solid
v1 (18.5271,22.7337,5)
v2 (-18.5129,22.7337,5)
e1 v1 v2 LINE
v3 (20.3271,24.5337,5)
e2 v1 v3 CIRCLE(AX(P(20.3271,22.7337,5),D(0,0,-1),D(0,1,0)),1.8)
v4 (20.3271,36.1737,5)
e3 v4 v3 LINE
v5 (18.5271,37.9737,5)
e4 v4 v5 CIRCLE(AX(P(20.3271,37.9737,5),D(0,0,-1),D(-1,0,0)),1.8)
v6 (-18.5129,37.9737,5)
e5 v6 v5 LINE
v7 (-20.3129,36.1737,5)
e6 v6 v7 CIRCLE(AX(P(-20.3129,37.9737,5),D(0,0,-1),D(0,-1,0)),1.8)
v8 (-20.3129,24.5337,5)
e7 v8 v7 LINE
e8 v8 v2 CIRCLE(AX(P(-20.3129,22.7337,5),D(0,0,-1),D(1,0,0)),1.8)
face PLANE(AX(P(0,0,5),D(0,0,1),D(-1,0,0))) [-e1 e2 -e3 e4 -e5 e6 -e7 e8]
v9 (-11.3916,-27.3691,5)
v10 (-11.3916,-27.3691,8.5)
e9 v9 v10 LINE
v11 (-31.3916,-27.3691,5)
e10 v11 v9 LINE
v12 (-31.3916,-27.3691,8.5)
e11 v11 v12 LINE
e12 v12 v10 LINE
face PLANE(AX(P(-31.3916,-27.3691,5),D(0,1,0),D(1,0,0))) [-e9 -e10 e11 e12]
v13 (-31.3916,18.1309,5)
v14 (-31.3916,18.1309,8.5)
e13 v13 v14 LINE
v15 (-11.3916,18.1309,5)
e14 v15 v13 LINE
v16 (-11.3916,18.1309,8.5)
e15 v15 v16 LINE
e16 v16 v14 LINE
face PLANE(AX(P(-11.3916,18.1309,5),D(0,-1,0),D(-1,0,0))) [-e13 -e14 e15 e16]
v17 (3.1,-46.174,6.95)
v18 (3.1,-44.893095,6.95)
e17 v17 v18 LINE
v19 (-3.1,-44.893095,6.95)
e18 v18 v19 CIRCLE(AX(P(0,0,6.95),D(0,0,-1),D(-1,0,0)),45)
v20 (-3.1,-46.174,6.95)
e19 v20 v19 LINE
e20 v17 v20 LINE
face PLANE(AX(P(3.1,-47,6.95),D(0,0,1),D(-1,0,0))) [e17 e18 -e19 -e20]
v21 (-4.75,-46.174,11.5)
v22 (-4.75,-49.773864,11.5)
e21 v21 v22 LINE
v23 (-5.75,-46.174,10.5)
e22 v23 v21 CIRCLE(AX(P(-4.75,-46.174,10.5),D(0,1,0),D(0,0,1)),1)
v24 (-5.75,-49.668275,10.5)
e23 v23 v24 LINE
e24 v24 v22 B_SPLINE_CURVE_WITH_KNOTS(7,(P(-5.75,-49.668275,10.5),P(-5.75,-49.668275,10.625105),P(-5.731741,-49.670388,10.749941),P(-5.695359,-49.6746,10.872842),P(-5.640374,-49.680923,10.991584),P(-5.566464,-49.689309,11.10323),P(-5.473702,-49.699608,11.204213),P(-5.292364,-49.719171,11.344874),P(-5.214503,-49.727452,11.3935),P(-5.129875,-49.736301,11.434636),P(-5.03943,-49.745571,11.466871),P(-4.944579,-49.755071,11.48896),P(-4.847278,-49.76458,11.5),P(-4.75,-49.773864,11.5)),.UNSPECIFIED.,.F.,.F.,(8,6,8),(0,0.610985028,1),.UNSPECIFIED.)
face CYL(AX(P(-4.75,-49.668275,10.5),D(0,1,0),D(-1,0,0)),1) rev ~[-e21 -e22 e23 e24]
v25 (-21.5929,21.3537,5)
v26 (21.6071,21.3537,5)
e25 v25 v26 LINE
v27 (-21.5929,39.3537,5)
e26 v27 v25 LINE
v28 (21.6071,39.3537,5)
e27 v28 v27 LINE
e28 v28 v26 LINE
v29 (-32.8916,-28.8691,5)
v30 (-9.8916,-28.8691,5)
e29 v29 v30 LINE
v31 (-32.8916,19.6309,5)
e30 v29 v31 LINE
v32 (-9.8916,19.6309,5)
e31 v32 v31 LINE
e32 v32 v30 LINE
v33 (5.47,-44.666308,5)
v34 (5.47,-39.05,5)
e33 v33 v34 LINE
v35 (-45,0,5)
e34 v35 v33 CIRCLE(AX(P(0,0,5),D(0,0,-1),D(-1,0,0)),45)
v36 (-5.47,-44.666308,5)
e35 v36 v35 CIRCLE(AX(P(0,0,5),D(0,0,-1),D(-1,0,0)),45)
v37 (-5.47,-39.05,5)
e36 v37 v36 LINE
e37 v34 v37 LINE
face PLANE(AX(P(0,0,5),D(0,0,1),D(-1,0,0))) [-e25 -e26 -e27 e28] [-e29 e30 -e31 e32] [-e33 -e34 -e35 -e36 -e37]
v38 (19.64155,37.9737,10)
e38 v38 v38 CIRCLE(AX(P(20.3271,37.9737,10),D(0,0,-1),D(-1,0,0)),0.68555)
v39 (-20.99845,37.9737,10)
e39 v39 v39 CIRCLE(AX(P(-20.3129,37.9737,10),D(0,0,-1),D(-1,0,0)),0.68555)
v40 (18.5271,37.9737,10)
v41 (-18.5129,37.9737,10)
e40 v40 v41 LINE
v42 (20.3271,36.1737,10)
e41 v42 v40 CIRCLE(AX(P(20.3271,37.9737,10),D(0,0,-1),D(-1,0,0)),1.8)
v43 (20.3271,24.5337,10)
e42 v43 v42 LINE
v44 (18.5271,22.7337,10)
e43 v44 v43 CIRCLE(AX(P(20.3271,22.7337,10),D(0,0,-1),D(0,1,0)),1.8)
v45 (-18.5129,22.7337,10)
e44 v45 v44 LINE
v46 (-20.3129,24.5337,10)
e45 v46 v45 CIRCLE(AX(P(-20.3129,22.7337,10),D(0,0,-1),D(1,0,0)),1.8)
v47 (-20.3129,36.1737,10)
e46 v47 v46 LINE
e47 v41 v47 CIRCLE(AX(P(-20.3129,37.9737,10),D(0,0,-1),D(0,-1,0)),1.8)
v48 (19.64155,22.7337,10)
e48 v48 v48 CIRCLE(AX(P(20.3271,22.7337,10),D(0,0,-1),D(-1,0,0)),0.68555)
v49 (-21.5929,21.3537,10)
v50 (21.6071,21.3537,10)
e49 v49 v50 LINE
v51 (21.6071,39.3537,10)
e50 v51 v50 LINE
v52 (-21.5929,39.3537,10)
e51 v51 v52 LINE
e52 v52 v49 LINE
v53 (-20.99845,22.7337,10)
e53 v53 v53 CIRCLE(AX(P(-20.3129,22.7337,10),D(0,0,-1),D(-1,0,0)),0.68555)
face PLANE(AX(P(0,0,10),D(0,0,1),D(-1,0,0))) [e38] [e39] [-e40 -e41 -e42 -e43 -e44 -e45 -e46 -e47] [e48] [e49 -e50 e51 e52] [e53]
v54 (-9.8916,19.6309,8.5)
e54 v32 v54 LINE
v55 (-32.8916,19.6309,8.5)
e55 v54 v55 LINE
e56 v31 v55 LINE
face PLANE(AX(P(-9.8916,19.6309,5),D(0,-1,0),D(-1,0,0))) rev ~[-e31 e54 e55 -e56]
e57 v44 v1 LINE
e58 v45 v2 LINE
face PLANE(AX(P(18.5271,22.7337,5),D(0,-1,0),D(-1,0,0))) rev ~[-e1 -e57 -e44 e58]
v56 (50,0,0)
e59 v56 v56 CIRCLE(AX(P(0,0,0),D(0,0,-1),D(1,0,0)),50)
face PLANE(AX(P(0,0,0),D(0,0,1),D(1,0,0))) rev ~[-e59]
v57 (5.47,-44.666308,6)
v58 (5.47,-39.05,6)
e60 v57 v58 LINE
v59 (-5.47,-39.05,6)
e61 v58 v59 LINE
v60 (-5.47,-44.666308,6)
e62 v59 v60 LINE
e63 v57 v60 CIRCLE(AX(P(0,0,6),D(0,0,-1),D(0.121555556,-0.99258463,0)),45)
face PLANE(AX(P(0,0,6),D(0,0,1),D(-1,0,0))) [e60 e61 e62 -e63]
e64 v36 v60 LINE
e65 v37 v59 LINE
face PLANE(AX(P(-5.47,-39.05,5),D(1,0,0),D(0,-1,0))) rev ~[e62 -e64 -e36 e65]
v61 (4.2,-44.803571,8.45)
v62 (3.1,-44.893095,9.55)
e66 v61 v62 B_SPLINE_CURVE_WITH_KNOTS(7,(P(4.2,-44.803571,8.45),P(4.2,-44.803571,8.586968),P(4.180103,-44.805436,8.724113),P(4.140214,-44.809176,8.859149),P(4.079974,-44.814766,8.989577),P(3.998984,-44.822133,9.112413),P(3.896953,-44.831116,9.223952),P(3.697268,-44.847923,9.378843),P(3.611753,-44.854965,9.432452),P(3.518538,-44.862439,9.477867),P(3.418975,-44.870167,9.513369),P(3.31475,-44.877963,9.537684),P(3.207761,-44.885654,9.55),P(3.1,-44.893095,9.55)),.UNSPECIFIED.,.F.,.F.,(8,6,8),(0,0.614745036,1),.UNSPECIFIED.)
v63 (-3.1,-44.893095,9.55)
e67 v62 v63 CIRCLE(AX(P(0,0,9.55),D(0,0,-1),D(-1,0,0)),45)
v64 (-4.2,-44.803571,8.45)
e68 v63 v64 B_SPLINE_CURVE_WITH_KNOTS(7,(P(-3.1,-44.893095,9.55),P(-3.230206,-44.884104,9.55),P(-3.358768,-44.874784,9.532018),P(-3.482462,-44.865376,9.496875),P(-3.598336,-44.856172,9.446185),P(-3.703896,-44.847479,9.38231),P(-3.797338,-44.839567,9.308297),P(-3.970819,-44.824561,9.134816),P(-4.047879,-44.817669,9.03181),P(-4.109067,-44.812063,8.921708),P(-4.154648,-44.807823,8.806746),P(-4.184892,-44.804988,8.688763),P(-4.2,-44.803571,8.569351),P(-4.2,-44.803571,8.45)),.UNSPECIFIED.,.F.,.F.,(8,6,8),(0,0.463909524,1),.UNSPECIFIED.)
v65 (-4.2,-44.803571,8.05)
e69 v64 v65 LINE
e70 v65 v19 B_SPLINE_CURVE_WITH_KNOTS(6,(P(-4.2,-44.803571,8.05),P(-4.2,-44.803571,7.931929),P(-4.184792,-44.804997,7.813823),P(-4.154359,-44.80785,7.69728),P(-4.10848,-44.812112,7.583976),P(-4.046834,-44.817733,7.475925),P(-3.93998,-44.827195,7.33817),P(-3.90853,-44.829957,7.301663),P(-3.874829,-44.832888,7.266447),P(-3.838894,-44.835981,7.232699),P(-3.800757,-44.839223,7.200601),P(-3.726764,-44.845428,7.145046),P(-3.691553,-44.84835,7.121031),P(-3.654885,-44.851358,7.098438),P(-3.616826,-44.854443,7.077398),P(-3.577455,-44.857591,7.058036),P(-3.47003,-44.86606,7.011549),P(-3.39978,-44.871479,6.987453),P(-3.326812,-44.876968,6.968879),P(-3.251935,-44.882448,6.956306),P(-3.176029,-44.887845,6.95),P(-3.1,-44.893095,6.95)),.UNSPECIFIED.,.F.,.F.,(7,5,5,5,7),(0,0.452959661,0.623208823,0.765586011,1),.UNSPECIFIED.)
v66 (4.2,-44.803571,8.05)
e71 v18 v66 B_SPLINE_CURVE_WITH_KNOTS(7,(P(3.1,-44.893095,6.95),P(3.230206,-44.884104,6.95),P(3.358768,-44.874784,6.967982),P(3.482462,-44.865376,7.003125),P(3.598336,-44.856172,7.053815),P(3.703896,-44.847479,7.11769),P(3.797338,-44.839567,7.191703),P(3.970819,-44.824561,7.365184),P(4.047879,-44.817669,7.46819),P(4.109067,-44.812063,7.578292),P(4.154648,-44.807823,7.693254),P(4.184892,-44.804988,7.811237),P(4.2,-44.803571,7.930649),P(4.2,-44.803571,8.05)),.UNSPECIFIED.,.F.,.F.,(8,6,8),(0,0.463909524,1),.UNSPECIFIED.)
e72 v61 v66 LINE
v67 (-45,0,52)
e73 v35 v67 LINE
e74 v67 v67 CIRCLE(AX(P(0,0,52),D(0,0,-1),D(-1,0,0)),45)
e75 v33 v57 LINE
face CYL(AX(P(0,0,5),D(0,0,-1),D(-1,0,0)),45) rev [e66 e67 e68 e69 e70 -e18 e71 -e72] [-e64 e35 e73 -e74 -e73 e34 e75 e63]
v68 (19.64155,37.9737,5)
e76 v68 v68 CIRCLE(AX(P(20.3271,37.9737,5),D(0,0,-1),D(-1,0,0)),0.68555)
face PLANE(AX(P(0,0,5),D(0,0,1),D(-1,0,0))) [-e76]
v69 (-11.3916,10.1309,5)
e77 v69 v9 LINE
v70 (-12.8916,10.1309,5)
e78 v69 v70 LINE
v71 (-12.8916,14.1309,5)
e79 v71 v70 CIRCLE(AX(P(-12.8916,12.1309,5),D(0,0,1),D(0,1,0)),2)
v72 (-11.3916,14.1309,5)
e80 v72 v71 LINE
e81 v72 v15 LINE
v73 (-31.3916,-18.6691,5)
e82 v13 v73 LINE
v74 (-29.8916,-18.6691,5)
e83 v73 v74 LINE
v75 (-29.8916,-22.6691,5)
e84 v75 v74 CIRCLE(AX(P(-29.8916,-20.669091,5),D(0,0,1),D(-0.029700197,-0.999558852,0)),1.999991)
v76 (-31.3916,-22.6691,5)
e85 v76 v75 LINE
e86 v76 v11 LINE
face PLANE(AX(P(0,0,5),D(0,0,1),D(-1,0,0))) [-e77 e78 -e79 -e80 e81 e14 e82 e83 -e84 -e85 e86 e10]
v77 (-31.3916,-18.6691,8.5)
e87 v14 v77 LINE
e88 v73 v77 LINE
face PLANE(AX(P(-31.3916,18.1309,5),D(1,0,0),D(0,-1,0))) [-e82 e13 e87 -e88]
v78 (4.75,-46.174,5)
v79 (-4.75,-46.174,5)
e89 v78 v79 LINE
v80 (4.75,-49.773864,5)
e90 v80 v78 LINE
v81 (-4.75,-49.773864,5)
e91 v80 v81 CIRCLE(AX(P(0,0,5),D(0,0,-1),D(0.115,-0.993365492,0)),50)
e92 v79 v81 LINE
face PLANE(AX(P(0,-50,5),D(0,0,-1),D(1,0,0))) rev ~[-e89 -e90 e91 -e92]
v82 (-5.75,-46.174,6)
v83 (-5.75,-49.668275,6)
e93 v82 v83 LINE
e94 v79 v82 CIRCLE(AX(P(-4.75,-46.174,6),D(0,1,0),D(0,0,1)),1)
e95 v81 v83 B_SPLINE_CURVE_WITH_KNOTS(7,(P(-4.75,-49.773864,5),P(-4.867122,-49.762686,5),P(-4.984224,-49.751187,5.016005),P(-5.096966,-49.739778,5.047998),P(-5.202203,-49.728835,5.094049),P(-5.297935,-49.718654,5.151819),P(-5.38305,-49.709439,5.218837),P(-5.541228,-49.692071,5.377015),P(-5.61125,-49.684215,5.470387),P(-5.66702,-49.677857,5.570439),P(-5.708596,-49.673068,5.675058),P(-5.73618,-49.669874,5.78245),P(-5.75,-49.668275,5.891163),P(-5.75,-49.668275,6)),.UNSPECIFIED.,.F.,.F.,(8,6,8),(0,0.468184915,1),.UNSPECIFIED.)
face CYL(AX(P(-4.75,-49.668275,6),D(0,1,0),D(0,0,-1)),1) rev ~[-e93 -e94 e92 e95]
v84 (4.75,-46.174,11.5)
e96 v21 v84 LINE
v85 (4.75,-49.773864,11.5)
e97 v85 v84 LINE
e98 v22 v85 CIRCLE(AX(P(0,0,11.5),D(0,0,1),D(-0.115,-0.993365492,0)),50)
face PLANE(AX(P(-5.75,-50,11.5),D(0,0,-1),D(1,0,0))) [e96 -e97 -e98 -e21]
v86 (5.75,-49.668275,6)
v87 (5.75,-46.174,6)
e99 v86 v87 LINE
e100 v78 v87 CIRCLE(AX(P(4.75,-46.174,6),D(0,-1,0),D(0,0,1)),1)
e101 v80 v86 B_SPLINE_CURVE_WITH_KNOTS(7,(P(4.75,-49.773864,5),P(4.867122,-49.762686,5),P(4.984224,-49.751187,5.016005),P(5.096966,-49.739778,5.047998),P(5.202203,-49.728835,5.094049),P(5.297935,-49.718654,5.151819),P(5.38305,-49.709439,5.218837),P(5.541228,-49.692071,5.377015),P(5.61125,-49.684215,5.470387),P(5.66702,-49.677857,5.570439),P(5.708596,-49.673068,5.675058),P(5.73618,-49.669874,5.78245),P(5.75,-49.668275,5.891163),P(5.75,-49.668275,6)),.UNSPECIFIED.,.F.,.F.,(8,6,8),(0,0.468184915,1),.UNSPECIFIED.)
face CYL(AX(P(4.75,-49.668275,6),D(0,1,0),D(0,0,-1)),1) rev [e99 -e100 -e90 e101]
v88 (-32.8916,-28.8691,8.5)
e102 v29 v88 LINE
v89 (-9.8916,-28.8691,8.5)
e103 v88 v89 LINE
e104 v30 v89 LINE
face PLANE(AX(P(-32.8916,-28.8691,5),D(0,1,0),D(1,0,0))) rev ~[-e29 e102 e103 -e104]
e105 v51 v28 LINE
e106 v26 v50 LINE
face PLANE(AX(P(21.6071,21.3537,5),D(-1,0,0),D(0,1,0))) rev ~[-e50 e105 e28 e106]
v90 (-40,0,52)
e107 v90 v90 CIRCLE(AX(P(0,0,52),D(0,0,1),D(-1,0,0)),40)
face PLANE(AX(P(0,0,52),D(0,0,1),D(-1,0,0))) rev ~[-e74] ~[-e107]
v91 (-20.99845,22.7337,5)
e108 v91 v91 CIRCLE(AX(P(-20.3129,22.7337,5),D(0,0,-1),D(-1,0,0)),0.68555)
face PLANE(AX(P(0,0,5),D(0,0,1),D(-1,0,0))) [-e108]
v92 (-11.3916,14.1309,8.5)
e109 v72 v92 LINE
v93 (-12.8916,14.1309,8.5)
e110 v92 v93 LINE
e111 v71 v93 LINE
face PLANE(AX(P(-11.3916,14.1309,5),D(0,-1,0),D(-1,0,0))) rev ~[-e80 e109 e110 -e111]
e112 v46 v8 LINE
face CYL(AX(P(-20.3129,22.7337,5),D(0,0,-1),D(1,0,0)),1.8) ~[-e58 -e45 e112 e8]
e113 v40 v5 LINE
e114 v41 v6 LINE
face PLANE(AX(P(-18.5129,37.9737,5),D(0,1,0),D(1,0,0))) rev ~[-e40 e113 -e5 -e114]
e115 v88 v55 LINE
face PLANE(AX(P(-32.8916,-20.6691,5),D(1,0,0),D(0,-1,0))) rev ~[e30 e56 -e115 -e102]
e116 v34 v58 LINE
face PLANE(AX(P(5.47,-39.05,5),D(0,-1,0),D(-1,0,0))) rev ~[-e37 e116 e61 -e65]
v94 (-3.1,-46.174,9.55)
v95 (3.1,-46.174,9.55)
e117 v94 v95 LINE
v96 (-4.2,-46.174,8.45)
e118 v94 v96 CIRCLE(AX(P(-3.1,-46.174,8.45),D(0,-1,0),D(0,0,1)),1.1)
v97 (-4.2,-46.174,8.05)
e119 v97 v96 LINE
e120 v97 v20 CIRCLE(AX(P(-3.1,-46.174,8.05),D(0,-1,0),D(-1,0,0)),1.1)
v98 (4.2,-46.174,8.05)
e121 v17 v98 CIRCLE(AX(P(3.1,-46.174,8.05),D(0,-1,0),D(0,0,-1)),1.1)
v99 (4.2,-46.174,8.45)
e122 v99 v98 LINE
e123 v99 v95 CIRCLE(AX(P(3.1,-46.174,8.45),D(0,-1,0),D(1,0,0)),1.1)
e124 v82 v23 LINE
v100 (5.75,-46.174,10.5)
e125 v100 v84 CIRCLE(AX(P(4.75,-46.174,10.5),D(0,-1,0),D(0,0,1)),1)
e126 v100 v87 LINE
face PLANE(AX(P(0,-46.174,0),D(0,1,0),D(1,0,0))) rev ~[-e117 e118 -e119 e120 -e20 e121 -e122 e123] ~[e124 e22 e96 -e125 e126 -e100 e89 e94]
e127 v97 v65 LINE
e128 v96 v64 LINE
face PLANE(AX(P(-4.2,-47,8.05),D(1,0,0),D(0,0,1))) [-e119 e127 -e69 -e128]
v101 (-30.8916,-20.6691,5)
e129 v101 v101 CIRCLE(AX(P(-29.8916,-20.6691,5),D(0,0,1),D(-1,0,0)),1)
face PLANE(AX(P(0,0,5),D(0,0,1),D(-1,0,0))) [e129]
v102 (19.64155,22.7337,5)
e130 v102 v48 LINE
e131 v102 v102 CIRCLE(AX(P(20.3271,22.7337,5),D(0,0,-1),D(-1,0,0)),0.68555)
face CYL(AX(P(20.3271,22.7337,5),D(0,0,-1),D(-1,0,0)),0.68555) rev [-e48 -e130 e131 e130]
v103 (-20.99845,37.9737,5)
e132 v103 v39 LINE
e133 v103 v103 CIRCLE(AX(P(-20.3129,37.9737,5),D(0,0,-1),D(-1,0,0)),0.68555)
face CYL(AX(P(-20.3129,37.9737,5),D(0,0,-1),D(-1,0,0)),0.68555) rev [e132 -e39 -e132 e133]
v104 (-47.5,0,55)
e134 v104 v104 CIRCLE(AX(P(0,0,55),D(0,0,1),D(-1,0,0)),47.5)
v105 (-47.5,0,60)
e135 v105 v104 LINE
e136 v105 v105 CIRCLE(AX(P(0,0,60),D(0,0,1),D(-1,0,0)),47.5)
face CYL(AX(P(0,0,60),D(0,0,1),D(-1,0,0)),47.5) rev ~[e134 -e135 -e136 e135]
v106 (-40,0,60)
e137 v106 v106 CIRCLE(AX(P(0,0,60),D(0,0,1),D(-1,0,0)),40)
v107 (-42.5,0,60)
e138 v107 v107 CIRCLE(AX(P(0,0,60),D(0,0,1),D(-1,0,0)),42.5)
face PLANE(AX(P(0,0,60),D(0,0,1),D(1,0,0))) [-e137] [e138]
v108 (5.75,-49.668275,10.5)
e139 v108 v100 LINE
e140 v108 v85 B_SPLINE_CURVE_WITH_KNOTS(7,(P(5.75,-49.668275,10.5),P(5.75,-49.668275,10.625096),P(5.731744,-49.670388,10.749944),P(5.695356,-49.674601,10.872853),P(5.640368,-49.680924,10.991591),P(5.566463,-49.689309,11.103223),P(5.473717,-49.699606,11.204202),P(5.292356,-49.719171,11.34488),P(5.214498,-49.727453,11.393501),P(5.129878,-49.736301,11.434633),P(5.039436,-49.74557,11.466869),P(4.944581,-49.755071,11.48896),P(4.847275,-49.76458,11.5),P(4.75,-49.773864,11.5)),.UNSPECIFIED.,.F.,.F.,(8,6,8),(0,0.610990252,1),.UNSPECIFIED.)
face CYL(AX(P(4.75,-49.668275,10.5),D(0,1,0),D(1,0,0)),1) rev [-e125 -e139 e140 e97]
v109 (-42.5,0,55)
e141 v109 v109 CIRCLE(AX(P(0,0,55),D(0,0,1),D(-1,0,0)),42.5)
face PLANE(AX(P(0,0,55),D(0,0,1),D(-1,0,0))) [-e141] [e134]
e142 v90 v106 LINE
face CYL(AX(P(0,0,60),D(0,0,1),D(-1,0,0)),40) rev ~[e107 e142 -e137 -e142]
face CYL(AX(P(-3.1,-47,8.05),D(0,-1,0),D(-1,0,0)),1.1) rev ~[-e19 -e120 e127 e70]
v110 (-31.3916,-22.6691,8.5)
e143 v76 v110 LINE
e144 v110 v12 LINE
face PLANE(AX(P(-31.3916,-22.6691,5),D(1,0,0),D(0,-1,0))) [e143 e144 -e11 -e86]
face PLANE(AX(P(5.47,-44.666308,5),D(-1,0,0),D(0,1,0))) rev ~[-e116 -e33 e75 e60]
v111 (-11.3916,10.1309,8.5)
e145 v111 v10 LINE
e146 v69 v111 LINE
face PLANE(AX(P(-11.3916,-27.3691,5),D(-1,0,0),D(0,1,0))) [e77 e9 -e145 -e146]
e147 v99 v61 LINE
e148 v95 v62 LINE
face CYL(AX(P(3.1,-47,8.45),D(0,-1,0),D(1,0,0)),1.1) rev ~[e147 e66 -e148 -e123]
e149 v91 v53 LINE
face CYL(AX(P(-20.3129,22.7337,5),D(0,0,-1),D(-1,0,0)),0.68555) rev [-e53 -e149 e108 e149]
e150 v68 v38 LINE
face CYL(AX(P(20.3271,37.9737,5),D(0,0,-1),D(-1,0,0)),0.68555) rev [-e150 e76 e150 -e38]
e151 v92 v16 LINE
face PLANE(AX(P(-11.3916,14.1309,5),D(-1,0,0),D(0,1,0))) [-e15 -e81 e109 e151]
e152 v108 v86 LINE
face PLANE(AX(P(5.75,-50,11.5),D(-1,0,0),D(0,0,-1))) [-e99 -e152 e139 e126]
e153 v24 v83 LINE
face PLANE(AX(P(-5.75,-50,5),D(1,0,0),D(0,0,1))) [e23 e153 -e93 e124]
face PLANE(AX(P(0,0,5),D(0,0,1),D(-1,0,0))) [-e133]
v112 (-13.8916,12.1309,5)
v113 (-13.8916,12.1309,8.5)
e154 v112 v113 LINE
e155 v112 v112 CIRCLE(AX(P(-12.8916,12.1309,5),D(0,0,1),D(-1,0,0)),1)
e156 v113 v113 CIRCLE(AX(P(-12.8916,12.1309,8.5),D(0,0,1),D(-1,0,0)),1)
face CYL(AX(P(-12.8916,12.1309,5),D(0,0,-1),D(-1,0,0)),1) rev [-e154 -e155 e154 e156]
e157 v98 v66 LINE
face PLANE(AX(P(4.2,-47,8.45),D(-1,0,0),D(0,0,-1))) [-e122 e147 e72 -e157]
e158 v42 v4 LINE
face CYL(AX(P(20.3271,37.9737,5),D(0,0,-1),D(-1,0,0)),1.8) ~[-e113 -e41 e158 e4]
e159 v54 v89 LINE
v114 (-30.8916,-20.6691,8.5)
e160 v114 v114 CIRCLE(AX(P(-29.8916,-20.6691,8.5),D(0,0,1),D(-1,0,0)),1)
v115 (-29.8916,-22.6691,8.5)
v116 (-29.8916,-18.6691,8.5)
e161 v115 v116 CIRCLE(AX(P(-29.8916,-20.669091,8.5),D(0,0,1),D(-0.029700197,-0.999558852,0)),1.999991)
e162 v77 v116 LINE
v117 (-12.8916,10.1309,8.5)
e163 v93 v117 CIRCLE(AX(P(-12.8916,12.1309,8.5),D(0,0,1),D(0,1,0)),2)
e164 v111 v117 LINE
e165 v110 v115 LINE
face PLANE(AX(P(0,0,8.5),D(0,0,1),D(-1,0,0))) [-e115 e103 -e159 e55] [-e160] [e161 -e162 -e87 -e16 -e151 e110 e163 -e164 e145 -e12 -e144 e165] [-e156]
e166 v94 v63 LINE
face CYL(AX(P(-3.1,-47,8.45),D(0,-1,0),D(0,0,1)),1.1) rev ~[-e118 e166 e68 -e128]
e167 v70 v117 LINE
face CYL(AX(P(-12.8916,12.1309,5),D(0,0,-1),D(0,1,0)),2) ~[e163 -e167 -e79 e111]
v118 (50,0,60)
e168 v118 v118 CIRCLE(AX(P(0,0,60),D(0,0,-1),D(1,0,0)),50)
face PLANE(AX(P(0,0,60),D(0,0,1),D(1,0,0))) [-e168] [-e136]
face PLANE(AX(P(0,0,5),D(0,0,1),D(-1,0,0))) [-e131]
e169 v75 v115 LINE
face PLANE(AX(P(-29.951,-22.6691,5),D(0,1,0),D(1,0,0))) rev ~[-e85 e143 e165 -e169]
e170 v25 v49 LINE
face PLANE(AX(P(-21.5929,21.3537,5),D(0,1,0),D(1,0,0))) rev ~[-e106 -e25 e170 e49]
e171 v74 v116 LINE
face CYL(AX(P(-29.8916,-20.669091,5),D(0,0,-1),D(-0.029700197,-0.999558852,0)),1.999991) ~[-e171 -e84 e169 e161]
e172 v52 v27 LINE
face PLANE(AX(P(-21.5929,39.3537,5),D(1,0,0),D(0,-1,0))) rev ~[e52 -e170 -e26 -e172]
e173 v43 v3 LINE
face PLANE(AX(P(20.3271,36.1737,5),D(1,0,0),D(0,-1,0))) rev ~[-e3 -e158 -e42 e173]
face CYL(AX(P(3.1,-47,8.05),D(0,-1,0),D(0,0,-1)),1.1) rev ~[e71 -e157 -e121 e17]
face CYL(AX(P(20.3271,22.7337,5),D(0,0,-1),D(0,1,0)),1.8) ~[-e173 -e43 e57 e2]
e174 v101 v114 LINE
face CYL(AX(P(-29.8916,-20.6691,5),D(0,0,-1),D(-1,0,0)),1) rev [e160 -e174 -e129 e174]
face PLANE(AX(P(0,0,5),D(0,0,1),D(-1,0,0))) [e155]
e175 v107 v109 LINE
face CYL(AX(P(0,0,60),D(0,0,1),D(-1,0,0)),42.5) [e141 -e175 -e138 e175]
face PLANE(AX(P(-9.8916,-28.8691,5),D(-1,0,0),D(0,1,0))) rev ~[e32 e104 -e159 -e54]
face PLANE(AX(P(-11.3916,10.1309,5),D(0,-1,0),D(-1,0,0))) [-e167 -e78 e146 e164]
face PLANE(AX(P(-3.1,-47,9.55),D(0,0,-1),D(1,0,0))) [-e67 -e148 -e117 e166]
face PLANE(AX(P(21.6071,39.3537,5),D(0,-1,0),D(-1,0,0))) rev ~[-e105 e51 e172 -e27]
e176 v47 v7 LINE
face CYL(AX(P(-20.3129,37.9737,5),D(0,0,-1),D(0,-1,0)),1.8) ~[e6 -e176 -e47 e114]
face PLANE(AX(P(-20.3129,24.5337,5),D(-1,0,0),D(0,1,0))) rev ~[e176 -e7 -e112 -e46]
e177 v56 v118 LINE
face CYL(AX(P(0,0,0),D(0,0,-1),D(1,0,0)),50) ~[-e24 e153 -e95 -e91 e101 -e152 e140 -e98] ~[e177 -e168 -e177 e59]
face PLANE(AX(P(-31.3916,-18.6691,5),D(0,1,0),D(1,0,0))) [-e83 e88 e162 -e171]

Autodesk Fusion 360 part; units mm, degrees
sketch "Boceto1" plane through (0, 0, 0) normal (0, 0, 1) x (1, 0, 0)
  circle A0 centre (0, 0) radius 50
  dimension "d4" = 100
extrude "Extruir1" add sketch "Boceto1" along normal blind 60
sketch "Boceto2" plane through (0, 0, 60) normal (0, 0, 1) x (-1, 0, 0)
  circle A0 centre (0, 0) radius 50
  circle A1 centre (0, 0) radius 47.5
  circle A2 centre (0, 0) radius 42.5
  circle A3 centre (0, 0) radius 40
  dimension "d7" = 95
  dimension "d8" = 85
  dimension "d9" = 80
extrude "Extruir2" cut sketch "Boceto2" against normal blind 5 contours A1 | A3
extrude "Extruir3" cut 1 faces at (-12.741, 3.9301, 55) along direction (0, 0, -1) blind 50
sketch "Boceto3" plane through (0, 0, 5) normal (0, 0, 1) x (-1, 0, 0)
  circle A0 centre (0, 0) radius 45
  dimension "d14" = 90
extrude "Extruir4" cut sketch "Boceto3" along normal blind 47
sketch "Boceto4" plane through (0, 0, 5) normal (0, 0, 1) x (-1, 0, 0)
  circle A0 centre (0, 0) radius 45
  line L0 (21.5929, -21.3537) -> (-21.6071, -21.3537)
  line L1 (-21.6071, -21.3537) -> (-21.6071, -39.3537)
  line L2 (-21.6071, -39.3537) -> (21.5929, -39.3537)
  line L3 (21.5929, -39.3537) -> (21.5929, -21.3537)
  line L4 (21.5929, -21.3537) -> (-21.6071, -39.3537) construction
  line L5 (-21.6071, -21.3537) -> (21.5929, -39.3537) construction
  line L6 (20.3129, -24.5337) -> (20.3129, -36.1737)
  line L7 (-20.3271, -36.1737) -> (-20.3271, -24.5337)
  line L8 (-20.3271, -22.7337) -> (20.3129, -37.9737) construction
  line L9 (20.3129, -22.7337) -> (-20.3271, -37.9737) construction
  circle A1 centre (20.3129, -37.9737) radius 0.9
  circle A2 centre (20.3129, -22.7337) radius 0.9
  circle A3 centre (-20.3271, -22.7337) radius 0.9
  circle A4 centre (-20.3271, -37.9737) radius 0.9
  arc A5 (20.3129, -36.1737) -> (18.5129, -37.9737) centre (20.3129, -37.9737) ccw
  arc A6 (18.5129, -22.7337) -> (20.3129, -24.5337) centre (20.3129, -22.7337) ccw
  arc A7 (-20.3271, -24.5337) -> (-18.5271, -22.7337) centre (-20.3271, -22.7337) ccw
  line L10 (-18.5271, -22.7337) -> (18.5129, -22.7337)
  arc A8 (-18.5271, -37.9737) -> (-20.3271, -36.1737) centre (-20.3271, -37.9737) ccw
  line L11 (18.5129, -37.9737) -> (-18.5271, -37.9737)
  point P0 (-0.0071, -30.3537)
  point P1 (-0.0071, -30.3537)
  dimension "d17" = 43.2
  dimension "d18" = 18
  dimension "d19" = 40.64
  dimension "d20" = 15.24
  dimension "d21" = 1.8
  dimension "d22" = 1.8
  dimension "d23" = 1.8
  dimension "d24" = 1.8
  dimension "d25" = 3.6
  dimension "d28" = 3.6
extrude "Extruir5" add sketch "Boceto4" along normal blind 5 contours L0 L1 L2 L3
thread "Rosca1" "ISO Metric profile 1.7 M1.7x0.35 6H" major diameter 1.7678 minor diameter 1.3711 pitch 0.35 angle 60 resizes the face on face at (-21.1033, 37.5432, 6.6667) on face at (19.5367, 37.5432, 6.6667) on face at (-21.2117, 22.7785, 8.3333) on face at (19.4283, 22.7785, 8.3333)
sketch "Boceto5" plane through (0, 0, 5) normal (0, 0, 1) x (-1, 0, 0)
  circle A0 centre (0, 0) radius 45
  line L0 (21.5929, -39.3537) -> (-21.6071, -39.3537)
  line L1 (-21.6071, -39.3537) -> (-21.6071, -21.3537)
  line L2 (-21.6071, -21.3537) -> (21.5929, -21.3537)
  line L3 (21.5929, -21.3537) -> (21.5929, -39.3537)
  line L4 (32.8916, 28.8691) -> (9.8916, 28.8691)
  line L5 (9.8916, 28.8691) -> (9.8916, -19.6309)
  line L6 (9.8916, -19.6309) -> (32.8916, -19.6309)
  line L7 (32.8916, -19.6309) -> (32.8916, 28.8691)
  line L8 (32.8916, 28.8691) -> (9.8916, -19.6309) construction
  line L9 (9.8916, 28.8691) -> (32.8916, -19.6309) construction
  line L10 (32.8916, 28.8691) -> (32.8916, 20.6691)
  line L11 (30.8916, 20.6691) -> (29.8916, 20.6691)
  line L12 (9.8916, -19.6309) -> (9.8916, -12.1309)
  circle A1 centre (29.8916, 20.6691) radius 1
  line L13 (31.3916, 27.3691) -> (11.3916, 27.3691)
  line L14 (11.3916, -18.1309) -> (31.3916, -18.1309)
  line L15 (31.3916, 27.3691) -> (11.3916, -18.1309) construction
  line L16 (11.3916, 27.3691) -> (31.3916, -18.1309) construction
  line L17 (31.3916, 18.6691) -> (29.8916, 18.6691)
  line L18 (31.3916, 22.6691) -> (29.8916, 22.6691)
  arc A2 (29.951, 22.6682) -> (29.8916, 18.6691) centre (29.8916, 20.6691) ccw
  line L19 (31.3916, -18.1309) -> (31.3916, 18.6691)
  line L20 (31.3916, 22.6691) -> (31.3916, 27.3691)
  line L21 (11.3916, 27.3691) -> (11.3916, -9.9856)
  line L22 (11.3916, -14.1309) -> (11.3916, -18.1309)
  circle A3 centre (12.8916, -12.1309) radius 1
  line L23 (11.3916, -10.1309) -> (12.8916, -10.1309)
  line L24 (11.3916, -14.1309) -> (12.8916, -14.1309)
  line L25 (11.3916, -9.9856) -> (11.3916, -10.1309)
  arc A4 (12.8916, -14.1309) -> (12.8916, -10.1309) centre (12.8916, -12.1309) ccw
  point P0 (21.3916, 4.6191)
  point P1 (21.3916, 4.6191)
  dimension "d31" = 23
  dimension "d32" = 48.5
  dimension "d33" = 8.2
  dimension "d34" = 3
  dimension "d35" = 7.5
  dimension "d38" = 2
  dimension "d39" = 20
  dimension "d40" = 45.5
  dimension "d41" = 4
  dimension "d47" = 180
  dimension "d48" = 3
  dimension "d49" = 2
  dimension "d50" = 4
extrude "Extruir6" add sketch "Boceto5" along normal blind 3.5 contours L4 L5 L6 L7 L10 L12
ref_plane "PlanoDeObra1" through (0, -50, 0) normal (0, 1, 0) x (0, 0, 1)
sketch "Boceto6" plane through (0, -50, 0) normal (0, 1, 0) x (1, 0, 0)
  line L0 (0, 0) -> (0, -5)
  line L1 (0, -5) -> (5.75, -5)
  line L2 (0, -5) -> (-5.75, -5)
  line L3 (-5.75, -5) -> (-5.75, -11.5)
  line L4 (-5.75, -11.5) -> (5.75, -11.5)
  line L5 (5.75, -11.5) -> (5.75, -5)
  line L6 (3.1, -6.95) -> (-3.1, -6.95)
  line L7 (-4.2, -8.05) -> (-4.2, -8.45)
  line L8 (-3.1, -9.55) -> (3.1, -9.55)
  line L9 (4.2, -8.45) -> (4.2, -8.05)
  line L10 (4.2, -6.95) -> (-4.2, -9.55) construction
  line L11 (-4.2, -6.95) -> (4.2, -9.55) construction
  arc A0 (-4.2, -8.45) -> (-3.1, -9.55) centre (-3.1, -8.45) ccw
  arc A1 (-3.1, -6.95) -> (-4.2, -8.05) centre (-3.1, -8.05) ccw
  arc A2 (4.2, -8.05) -> (3.1, -6.95) centre (3.1, -8.05) ccw
  arc A3 (3.1, -9.55) -> (4.2, -8.45) centre (3.1, -8.45) ccw
  point P0 (0, -8.25)
  dimension "d56" = 5
  dimension "d57" = 5.75
  dimension "d58" = 5.75
  dimension "d59" = 6.5
  dimension "d60" = 11.5
  dimension "d61" = 8.4
  dimension "d62" = 2.6
  dimension "d65" = 1.1
  dimension "d66" = 1.1
  dimension "d67" = 1.1
  dimension "d68" = 1.1
extrude "Extruir7" cut sketch "Boceto6" along normal blind 3 contours L1 L2 L3 L4 L5 | L6 L7 L8 L9 A0 A1 A2 A3
sketch "Boceto7" plane through (0, -47, 0) normal (0, -1, 0) x (1, 0, 0)
  line L0 (-5.75, 5) -> (5.75, 5)
  line L1 (5.75, 5) -> (5.75, 11.5)
  line L2 (5.75, 11.5) -> (-5.75, 11.5)
  line L3 (-5.75, 11.5) -> (-5.75, 5)
  line L4 (3.1, 6.95) -> (-3.1, 6.95)
  line L5 (-4.2, 8.05) -> (-4.2, 8.45)
  line L6 (-3.1, 9.55) -> (3.1, 9.55)
  line L7 (4.2, 8.45) -> (4.2, 8.05)
  line L8 (4.2, 6.95) -> (-4.2, 9.55) construction
  line L9 (-4.2, 6.95) -> (4.2, 9.55) construction
  arc A0 (-3.1, 9.55) -> (-4.2, 8.45) centre (-3.1, 8.45) ccw
  arc A1 (-4.2, 8.05) -> (-3.1, 6.95) centre (-3.1, 8.05) ccw
  arc A2 (4.2, 8.45) -> (3.1, 9.55) centre (3.1, 8.45) ccw
  arc A3 (3.1, 6.95) -> (4.2, 8.05) centre (3.1, 8.05) ccw
  point P0 (0, 8.25)
  dimension "d71" = 8.4
  dimension "d72" = 2.6
  dimension "d73" = 1.1
  dimension "d74" = 1.1
  dimension "d75" = 1.1
extrude "Extruir8" cut sketch "Boceto7" against normal blind 2.3 contours L4 L5 L6 L7 A0 A1 A2 A3
fillet "Empalme1" radius 1 4 edges at (-5.75, -48.3341, 11.5) (-5.75, -48.3341, 5) (5.75, -48.3341, 5) (5.75, -48.3341, 11.5)
extrude "Extruir9" cut 1 faces at (1.0333, -47, 10.85) along direction (0, 1, 0) blind 0.826
sketch "Boceto8" plane through (0, 0, 5) normal (0, 0, 1) x (-1, 0, 0)
  line L0 (21.5929, -39.3537) -> (-21.6071, -39.3537)
  line L1 (-21.6071, -39.3537) -> (-21.6071, -21.3537)
  line L2 (-21.6071, -21.3537) -> (21.5929, -21.3537)
  line L3 (21.5929, -21.3537) -> (21.5929, -39.3537)
  circle A0 centre (0, 0) radius 45
  line L4 (32.8916, -19.6309) -> (9.8916, -19.6309)
  line L5 (9.8916, -19.6309) -> (9.8916, 28.8691)
  line L6 (9.8916, 28.8691) -> (32.8916, 28.8691)
  line L7 (32.8916, 28.8691) -> (32.8916, -19.6309)
  line L8 (0, 45) -> (-5.47, 45)
  line L9 (0, 45) -> (5.47, 45)
  line L10 (-5.47, 45) -> (-5.47, 39.05)
  line L11 (-5.47, 39.05) -> (5.47, 39.05)
  line L12 (5.47, 39.05) -> (5.47, 45)
  dimension "d83" = 5.47
  dimension "d84" = 5.47
  dimension "d85" = 5.95
  dimension "d86" = 10.94
extrude "Extruir10" add sketch "Boceto8" along normal blind 1 contours A0 L10 L11 L12 picked at (0, 41.0333)
equation "DiametroBase = 100 mm"
equation "AlturaBase = 60 mm"
equation "AlturaPantalla = 200 mm"
equation "d4 = DiametroBase"
equation "d5 = AlturaBase"
